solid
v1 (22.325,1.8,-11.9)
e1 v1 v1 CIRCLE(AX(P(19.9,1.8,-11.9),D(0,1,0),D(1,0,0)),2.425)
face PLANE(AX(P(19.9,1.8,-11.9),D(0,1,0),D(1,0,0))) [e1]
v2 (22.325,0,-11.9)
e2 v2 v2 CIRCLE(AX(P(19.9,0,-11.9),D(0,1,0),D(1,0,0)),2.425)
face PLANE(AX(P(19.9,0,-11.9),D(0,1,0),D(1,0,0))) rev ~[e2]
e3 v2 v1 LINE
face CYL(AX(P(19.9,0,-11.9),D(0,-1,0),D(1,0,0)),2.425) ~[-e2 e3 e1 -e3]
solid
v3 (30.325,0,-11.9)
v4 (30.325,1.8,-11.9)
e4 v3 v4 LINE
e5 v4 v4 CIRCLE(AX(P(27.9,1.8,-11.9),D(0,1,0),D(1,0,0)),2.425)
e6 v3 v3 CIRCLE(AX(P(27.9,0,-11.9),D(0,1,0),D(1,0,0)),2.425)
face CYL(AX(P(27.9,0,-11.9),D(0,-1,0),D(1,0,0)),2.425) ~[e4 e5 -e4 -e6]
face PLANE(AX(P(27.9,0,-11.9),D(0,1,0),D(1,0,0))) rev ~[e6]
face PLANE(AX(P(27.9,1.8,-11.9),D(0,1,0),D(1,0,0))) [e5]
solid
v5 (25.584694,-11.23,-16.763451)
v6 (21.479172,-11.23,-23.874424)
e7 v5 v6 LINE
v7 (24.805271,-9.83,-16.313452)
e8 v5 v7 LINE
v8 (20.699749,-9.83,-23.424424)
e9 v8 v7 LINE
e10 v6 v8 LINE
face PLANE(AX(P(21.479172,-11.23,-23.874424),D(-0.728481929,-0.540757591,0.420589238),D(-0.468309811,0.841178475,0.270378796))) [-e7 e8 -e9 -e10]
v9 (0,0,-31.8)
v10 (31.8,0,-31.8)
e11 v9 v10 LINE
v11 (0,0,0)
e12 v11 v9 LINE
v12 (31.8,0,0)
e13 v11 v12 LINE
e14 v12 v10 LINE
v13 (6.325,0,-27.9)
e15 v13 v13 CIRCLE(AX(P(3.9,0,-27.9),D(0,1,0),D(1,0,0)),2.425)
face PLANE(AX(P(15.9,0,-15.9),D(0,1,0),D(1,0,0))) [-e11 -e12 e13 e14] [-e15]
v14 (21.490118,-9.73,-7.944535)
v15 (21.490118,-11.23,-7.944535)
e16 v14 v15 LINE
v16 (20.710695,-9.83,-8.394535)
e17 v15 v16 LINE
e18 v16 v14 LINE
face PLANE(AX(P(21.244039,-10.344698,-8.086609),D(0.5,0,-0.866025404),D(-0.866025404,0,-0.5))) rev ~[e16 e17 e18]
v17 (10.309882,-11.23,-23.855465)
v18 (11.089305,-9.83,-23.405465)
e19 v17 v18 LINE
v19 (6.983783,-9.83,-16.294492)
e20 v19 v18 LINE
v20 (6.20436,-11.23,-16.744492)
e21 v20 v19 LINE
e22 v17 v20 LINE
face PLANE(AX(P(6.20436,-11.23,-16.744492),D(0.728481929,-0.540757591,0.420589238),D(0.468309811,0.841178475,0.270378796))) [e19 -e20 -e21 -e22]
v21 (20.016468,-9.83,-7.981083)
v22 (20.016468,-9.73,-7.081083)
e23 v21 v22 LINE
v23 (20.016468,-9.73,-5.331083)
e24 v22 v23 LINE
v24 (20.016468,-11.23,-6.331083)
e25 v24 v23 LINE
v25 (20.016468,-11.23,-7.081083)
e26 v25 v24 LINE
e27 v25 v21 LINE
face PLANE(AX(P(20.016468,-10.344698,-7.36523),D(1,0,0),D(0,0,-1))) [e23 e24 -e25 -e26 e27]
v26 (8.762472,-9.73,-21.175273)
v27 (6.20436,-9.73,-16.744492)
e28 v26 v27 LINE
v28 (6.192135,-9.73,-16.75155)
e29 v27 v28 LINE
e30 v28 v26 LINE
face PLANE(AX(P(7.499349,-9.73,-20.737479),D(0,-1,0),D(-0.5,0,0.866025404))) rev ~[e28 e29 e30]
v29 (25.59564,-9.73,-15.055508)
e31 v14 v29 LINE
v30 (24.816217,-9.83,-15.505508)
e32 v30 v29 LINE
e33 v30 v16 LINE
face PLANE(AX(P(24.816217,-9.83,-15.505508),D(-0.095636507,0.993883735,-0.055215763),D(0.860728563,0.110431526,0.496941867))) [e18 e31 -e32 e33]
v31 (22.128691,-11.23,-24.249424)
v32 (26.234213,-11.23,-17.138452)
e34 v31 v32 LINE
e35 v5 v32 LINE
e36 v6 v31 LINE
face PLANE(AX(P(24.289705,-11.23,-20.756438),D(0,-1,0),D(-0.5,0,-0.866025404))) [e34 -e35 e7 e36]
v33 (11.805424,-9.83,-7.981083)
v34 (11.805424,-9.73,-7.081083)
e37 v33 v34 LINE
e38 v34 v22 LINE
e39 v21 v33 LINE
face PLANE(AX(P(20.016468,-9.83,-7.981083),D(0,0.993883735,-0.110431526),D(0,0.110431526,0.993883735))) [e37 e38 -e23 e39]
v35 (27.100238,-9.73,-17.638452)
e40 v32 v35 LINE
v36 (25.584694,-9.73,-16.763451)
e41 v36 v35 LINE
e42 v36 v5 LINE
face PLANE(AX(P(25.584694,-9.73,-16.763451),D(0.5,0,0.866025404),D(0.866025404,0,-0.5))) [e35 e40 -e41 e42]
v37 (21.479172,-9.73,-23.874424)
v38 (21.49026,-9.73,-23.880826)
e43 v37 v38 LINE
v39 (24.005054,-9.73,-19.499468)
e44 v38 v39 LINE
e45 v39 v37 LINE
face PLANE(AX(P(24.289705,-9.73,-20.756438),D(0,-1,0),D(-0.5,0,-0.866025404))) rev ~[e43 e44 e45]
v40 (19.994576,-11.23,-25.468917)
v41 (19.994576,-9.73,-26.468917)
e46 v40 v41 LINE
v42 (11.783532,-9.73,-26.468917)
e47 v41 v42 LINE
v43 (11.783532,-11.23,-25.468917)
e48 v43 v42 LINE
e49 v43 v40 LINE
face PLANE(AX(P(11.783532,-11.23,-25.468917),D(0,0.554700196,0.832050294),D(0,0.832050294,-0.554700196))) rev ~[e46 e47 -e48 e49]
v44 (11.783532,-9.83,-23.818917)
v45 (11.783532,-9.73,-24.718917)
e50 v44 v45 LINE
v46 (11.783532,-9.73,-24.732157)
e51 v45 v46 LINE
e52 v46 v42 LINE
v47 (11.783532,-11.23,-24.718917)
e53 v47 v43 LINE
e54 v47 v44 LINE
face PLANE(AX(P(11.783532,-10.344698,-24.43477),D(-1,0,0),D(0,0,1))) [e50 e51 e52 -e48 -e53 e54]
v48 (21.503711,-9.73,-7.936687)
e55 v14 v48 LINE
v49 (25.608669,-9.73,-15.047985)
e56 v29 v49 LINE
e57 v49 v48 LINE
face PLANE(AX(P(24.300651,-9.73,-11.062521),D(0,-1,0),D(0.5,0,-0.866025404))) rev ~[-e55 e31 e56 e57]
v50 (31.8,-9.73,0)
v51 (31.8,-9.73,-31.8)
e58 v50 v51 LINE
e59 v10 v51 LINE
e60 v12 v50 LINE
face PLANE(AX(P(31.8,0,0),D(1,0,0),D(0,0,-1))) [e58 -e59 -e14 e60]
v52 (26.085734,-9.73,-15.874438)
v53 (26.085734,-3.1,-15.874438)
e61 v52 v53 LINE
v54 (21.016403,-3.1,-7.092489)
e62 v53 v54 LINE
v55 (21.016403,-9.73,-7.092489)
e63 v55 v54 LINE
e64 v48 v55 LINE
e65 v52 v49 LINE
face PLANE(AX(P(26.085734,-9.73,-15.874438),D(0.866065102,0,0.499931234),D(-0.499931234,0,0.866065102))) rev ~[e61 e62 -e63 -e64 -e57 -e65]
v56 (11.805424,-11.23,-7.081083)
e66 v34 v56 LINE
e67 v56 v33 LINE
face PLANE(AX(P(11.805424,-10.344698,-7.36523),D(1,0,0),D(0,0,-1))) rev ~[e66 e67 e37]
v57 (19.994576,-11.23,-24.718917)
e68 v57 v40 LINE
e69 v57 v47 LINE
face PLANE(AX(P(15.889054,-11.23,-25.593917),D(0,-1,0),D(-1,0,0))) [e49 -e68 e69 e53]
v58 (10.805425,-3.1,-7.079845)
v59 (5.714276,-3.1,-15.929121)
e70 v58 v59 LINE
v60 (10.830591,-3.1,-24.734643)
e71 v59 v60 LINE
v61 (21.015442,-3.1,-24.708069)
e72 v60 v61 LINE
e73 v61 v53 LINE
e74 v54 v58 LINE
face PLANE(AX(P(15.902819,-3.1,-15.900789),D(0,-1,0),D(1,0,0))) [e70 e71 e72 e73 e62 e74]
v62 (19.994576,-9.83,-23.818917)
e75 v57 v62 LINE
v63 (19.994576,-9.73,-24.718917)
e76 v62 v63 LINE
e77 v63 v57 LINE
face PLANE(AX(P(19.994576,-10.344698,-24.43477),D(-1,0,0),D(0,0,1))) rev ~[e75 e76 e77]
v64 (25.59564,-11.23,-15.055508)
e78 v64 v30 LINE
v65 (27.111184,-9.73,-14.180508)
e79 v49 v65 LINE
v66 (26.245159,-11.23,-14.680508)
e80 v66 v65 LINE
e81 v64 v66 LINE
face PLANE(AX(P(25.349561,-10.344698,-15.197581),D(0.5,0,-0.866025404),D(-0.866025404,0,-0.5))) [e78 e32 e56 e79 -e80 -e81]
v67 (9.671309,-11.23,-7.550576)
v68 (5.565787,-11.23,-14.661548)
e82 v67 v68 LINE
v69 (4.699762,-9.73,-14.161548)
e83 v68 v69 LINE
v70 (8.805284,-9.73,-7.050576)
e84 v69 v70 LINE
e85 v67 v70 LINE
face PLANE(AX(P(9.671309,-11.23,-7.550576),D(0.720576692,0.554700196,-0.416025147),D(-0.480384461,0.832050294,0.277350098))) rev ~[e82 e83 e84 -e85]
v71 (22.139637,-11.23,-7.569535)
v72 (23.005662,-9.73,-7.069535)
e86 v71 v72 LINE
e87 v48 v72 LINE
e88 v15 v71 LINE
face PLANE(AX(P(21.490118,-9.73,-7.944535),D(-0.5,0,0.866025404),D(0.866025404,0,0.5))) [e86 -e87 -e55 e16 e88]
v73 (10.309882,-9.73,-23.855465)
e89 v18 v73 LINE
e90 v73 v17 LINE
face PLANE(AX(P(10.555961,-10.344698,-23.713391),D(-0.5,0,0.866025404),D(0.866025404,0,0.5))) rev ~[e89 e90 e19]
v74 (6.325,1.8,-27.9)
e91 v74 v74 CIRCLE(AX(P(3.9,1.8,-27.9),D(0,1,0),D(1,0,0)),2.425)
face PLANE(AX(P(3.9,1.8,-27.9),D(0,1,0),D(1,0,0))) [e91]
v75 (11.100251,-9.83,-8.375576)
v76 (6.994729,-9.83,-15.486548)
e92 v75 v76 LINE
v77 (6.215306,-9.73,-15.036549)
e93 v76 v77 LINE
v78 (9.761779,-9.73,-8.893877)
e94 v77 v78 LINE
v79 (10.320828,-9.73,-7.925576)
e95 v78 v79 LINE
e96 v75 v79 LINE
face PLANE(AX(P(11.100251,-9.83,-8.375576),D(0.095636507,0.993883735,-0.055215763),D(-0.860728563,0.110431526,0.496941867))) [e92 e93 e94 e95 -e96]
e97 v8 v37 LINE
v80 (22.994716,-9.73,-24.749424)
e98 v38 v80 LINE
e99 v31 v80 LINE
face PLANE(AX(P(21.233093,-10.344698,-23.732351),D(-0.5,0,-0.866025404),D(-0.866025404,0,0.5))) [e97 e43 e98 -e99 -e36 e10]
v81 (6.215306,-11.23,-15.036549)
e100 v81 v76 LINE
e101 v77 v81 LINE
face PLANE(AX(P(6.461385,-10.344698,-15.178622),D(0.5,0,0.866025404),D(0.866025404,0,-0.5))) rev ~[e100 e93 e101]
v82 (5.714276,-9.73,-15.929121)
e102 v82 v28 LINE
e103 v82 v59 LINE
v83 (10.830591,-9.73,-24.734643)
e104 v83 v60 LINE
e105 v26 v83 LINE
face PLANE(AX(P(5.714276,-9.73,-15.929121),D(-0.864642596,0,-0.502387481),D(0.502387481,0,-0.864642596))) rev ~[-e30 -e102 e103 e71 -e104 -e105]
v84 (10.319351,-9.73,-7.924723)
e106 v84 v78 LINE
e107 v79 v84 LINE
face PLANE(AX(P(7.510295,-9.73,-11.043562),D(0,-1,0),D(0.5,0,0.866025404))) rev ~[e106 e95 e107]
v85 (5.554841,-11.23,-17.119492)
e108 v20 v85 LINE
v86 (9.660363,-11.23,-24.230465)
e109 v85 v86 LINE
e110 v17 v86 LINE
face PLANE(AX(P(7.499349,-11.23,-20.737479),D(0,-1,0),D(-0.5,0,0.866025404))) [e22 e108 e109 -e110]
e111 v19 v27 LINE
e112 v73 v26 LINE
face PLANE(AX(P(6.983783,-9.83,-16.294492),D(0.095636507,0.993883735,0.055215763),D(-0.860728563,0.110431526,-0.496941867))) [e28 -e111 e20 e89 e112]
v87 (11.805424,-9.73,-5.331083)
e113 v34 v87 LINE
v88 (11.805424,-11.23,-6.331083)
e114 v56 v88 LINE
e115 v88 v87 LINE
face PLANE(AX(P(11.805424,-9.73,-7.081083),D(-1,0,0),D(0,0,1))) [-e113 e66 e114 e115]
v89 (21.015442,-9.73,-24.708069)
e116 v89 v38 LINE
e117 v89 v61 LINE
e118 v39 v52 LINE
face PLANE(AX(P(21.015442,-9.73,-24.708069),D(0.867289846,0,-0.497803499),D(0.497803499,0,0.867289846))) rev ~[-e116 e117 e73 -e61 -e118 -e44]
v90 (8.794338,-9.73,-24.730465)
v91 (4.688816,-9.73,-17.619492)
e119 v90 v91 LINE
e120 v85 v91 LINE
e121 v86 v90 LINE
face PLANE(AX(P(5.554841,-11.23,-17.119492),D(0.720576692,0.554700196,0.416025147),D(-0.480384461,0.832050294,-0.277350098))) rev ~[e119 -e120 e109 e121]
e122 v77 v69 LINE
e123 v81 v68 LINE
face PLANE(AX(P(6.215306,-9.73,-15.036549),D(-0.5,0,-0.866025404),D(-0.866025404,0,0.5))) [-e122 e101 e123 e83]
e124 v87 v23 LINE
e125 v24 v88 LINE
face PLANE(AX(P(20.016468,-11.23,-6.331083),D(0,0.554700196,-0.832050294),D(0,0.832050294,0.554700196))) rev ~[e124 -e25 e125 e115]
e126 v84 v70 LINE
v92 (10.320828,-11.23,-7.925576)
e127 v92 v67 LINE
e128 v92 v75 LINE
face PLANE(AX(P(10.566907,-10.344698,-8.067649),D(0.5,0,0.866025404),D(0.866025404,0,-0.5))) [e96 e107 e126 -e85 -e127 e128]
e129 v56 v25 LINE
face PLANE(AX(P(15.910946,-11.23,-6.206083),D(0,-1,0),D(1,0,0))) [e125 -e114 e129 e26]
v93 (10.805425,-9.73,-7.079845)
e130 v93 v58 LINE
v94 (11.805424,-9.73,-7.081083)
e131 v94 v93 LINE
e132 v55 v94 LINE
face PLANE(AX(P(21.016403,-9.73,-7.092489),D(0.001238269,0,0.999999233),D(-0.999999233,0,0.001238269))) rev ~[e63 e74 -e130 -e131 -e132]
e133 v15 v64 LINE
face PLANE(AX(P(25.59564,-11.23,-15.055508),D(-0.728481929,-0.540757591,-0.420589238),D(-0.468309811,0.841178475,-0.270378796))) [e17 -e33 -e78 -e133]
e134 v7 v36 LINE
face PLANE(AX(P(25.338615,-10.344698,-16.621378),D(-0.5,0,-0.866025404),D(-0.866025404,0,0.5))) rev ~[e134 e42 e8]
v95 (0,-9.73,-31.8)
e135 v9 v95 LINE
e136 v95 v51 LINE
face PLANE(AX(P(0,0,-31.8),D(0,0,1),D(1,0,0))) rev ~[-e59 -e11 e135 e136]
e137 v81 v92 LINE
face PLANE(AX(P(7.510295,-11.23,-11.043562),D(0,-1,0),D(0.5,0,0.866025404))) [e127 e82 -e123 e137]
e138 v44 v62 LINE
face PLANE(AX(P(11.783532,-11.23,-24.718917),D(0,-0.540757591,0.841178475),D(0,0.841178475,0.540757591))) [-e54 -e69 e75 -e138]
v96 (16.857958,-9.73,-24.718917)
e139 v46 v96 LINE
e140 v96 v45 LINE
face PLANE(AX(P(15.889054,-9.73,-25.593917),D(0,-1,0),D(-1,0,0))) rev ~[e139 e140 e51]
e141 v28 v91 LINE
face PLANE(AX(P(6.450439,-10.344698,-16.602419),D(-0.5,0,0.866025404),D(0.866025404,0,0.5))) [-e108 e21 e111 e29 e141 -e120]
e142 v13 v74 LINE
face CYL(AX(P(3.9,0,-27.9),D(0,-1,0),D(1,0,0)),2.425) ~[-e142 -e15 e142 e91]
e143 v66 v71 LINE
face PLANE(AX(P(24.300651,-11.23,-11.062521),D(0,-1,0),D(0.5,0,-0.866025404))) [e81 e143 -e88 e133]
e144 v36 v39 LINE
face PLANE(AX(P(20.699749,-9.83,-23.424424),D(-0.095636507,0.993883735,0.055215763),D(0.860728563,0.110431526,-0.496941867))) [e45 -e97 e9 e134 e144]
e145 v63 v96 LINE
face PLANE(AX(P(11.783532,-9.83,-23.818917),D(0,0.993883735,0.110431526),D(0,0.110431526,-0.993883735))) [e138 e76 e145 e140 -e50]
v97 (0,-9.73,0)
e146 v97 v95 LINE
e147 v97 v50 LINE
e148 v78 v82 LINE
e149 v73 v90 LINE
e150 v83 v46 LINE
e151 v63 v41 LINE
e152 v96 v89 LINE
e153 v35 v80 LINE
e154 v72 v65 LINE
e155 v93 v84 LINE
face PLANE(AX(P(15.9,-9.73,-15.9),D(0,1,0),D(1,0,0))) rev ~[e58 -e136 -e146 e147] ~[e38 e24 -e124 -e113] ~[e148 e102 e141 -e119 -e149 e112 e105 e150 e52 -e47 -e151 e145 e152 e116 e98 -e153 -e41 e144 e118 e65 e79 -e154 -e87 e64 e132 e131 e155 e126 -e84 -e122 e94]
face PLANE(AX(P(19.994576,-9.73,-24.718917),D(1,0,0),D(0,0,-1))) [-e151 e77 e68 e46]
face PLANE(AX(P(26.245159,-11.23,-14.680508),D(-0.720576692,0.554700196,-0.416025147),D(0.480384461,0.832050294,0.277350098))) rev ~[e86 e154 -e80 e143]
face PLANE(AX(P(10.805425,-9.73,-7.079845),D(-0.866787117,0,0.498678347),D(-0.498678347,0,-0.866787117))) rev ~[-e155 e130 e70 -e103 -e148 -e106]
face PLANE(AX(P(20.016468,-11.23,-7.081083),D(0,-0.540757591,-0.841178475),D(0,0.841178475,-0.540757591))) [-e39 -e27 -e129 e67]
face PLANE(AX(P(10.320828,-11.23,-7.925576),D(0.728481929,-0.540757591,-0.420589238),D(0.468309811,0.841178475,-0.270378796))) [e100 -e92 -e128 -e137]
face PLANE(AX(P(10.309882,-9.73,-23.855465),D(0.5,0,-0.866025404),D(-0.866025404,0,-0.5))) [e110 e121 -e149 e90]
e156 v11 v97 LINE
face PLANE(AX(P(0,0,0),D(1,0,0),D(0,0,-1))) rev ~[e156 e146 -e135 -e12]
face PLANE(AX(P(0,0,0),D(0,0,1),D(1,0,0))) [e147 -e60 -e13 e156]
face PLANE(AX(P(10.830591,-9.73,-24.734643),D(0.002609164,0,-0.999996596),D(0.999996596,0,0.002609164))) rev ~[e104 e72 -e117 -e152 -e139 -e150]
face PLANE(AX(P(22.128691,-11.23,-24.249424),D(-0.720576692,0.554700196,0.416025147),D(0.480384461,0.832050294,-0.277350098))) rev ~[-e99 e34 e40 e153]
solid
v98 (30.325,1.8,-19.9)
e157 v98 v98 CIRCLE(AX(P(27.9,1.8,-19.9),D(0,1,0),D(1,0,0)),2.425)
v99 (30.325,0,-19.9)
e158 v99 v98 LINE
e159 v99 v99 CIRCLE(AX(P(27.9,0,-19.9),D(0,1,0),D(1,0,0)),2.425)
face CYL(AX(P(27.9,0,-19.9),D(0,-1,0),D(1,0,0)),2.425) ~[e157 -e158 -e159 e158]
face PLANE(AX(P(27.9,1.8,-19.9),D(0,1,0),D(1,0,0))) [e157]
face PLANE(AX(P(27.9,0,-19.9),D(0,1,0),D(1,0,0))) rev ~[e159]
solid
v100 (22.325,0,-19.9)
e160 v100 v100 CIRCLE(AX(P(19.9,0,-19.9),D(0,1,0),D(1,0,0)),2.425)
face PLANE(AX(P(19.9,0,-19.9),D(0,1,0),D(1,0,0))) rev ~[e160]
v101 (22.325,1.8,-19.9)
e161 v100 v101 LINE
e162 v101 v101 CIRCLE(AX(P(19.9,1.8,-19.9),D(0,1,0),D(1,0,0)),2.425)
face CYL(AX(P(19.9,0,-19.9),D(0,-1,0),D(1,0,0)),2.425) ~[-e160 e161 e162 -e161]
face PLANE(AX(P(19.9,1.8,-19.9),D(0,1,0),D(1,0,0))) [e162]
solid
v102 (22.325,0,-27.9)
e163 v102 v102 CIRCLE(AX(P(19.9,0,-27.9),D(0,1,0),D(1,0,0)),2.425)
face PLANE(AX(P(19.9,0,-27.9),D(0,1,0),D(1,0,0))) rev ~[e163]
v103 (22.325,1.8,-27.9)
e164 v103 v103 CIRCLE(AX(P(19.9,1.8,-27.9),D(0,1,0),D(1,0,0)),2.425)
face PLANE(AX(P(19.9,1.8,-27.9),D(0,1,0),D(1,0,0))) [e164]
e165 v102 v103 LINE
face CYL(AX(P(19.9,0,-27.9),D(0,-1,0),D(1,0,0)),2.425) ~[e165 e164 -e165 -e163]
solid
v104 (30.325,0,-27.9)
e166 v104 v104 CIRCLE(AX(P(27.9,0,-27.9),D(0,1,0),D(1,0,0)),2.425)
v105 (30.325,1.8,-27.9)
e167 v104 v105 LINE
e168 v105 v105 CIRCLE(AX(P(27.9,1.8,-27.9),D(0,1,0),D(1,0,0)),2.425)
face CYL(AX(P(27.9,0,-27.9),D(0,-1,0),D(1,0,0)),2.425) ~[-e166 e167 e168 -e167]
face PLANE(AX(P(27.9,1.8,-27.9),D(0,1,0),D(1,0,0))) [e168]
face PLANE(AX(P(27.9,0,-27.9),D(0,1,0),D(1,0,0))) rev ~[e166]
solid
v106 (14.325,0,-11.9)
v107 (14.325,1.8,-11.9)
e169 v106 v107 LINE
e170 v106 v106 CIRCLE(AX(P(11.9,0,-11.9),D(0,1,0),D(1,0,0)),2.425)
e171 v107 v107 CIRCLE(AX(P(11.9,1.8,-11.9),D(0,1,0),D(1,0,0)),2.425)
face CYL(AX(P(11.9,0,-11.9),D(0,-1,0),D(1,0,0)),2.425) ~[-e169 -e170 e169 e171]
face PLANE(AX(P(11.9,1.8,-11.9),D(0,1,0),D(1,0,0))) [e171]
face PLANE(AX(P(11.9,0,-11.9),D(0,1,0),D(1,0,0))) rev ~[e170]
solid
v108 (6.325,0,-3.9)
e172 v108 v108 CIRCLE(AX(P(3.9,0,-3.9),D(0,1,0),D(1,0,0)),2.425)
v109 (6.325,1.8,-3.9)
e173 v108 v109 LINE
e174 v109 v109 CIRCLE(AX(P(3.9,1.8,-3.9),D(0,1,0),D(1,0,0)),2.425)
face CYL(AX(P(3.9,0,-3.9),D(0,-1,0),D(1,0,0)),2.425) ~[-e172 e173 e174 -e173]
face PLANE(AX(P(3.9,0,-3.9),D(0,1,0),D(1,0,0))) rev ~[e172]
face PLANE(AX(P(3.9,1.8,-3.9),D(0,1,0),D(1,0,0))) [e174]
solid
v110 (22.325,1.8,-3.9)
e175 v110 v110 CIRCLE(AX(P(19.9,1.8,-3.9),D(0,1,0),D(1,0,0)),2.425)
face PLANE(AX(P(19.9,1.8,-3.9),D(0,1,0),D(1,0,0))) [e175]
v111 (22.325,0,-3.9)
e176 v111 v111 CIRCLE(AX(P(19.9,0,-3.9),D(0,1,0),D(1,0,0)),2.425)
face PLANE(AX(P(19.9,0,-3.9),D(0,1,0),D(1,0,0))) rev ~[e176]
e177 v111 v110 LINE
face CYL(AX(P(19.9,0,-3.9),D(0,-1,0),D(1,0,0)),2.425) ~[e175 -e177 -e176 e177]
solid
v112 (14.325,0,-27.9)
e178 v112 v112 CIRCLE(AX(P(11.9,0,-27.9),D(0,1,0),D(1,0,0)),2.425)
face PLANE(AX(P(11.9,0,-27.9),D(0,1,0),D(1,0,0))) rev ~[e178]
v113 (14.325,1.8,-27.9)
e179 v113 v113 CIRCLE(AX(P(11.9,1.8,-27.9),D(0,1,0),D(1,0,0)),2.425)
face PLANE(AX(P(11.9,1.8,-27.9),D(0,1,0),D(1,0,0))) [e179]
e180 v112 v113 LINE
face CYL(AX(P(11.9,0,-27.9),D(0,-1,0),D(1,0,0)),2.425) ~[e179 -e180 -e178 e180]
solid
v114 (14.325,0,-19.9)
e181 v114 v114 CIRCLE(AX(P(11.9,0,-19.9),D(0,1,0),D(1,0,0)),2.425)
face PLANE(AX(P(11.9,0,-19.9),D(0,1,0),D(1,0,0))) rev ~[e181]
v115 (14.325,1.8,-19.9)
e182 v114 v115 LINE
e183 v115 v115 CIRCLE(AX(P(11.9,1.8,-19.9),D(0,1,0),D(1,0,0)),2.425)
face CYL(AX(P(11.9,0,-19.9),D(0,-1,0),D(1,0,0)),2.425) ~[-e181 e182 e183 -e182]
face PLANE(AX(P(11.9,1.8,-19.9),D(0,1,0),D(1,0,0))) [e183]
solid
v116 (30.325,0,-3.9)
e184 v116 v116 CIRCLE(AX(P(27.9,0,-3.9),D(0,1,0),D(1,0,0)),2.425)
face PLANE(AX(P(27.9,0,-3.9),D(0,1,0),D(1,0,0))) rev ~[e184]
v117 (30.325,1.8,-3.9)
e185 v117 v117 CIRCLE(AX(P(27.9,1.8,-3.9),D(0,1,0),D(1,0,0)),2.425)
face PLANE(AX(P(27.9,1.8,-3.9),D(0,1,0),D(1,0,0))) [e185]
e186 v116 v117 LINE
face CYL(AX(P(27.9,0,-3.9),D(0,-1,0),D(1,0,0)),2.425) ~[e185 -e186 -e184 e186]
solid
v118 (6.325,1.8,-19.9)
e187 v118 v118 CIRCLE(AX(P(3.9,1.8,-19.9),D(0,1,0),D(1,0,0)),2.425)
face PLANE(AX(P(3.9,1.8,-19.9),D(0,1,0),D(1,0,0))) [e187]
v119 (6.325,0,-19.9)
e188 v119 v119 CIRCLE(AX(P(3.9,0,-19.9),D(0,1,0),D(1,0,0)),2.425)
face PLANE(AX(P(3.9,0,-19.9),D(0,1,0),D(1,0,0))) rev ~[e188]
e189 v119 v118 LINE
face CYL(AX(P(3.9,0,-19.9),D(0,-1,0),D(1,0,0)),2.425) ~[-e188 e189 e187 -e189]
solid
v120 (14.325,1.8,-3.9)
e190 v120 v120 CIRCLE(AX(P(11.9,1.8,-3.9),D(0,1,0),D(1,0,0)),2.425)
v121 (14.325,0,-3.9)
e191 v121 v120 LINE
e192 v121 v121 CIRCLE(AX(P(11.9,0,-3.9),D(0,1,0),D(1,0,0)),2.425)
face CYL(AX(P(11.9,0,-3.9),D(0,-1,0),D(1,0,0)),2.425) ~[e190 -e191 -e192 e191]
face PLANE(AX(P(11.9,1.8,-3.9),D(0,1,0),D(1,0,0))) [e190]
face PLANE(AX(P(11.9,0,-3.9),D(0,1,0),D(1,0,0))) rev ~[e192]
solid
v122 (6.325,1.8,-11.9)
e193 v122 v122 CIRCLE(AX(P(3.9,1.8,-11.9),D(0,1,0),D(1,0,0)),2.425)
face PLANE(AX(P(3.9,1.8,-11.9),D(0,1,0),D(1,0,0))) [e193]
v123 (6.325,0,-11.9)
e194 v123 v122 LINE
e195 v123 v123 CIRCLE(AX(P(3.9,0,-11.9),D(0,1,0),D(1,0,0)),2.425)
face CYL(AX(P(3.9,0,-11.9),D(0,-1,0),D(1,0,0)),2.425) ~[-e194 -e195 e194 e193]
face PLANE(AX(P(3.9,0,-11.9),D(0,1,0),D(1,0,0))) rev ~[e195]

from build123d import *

# Parameters (mm, degrees)
SKETCH2_R              = 2.425
BOSS_EXTRUDE1_DEPTH    = 1.8
BOSS_EXTRUDE1_2_DEPTH  = 1.8
BOSS_EXTRUDE1_3_DEPTH  = 1.8
BOSS_EXTRUDE1_4_DEPTH  = 1.8
BOSS_EXTRUDE1_5_DEPTH  = 1.8
BOSS_EXTRUDE1_6_DEPTH  = 1.8
BOSS_EXTRUDE1_7_DEPTH  = 1.8
BOSS_EXTRUDE1_8_DEPTH  = 1.8
BOSS_EXTRUDE1_9_DEPTH  = 1.8
BOSS_EXTRUDE1_10_DEPTH = 1.8
BOSS_EXTRUDE1_11_DEPTH = 1.8
BOSS_EXTRUDE1_12_DEPTH = 1.8
BOSS_EXTRUDE1_13_DEPTH = 1.8
BOSS_EXTRUDE1_14_DEPTH = 1.8
BOSS_EXTRUDE1_15_DEPTH = 1.8
BOSS_EXTRUDE1_16_DEPTH = 1.8
SKETCH1_W              = 31.8
SKETCH1_H              = 31.8
BOSS_EXTRUDE2_DEPTH    = 9.73
CUT_EXTRUDE1_DEPTH     = 6.63
SKETCH9_W              = 8.211044263
SKETCH9_H              = 1.75
BOSS_EXTRUDE4_DEPTH    = 1.5
BOSS_EXTRUDE5_DEPTH    = 8.211044
CUT_EXTRUDE4_DEPTH     = 8.211044
CIRPATTERN3_COUNT      = 6


with BuildPart() as part:
    # Sketch2 → Boss-Extrude1 (new body)
    with BuildSketch(Plane(origin=(0, 0, 0), x_dir=(1, 0, 0), z_dir=(0, 1, 0))):
        with Locations((3.9, 27.9)):
            Circle(SKETCH2_R)
    extrude(amount=BOSS_EXTRUDE1_DEPTH)

    # Sketch1 → Boss-Extrude2 (add)
    with BuildSketch(Plane(origin=(0, 0, 0), x_dir=(1, 0, 0), z_dir=(0, 1, 0))):
        with Locations((15.9, 15.9)):
            Rectangle(SKETCH1_W, SKETCH1_H)
    extrude(amount=-BOSS_EXTRUDE2_DEPTH)

    # Sketch4 → Cut-Extrude1 (cut)
    with BuildSketch(Plane.XZ.offset(9.73)):
        Polygon((26.085733965, -15.874437919), (21.016403127, -7.092489065), (10.805424678, -7.07984512), (5.714275589, -15.929121347), (10.830590574, -24.734643054), (21.015442313, -24.708069014), align=None)
    extrude(amount=-CUT_EXTRUDE1_DEPTH, mode=Mode.SUBTRACT)

    # Sketch9 → Boss-Extrude4 (add)
    with BuildSketch(Plane.XZ.offset(9.73)):
        with Locations((15.910946043, -6.206083389)):
            Rectangle(SKETCH9_W, SKETCH9_H)
    boss_extrude4 = extrude(amount=BOSS_EXTRUDE4_DEPTH)

    # Sketch10 → Boss-Extrude5 (add)
    with BuildSketch(Plane(origin=(20.016468174, 0, 0), x_dir=(0, 0, -1), z_dir=(1, 0, 0))):
        Polygon((7.081083389, -11.23), (7.981083389, -9.83), (7.081083389, -9.73), align=None)
    boss_extrude5 = extrude(amount=-BOSS_EXTRUDE5_DEPTH)

    # Sketch11 → Cut-Extrude4 (cut)
    with BuildSketch(Plane(origin=(20.016468174, 0, 0), x_dir=(0, 0, -1), z_dir=(1, 0, 0))):
        Polygon((6.331083389, -11.23), (5.331083389, -9.73), (5.331083389, -11.23), align=None)
    cut_extrude4 = extrude(amount=-CUT_EXTRUDE4_DEPTH, mode=Mode.SUBTRACT)

    # CirPattern3: Boss-Extrude4, Boss-Extrude5, Cut-Extrude4 ×6 about axis
    cirpattern3_axis = Axis((15.9, 0, -15.9), (0, 1, 0))
    for i in range(1, CIRPATTERN3_COUNT):
        add(boss_extrude4.rotate(cirpattern3_axis, i * 360 / CIRPATTERN3_COUNT))
        add(boss_extrude5.rotate(cirpattern3_axis, i * 360 / CIRPATTERN3_COUNT))
        add(cut_extrude4.rotate(cirpattern3_axis, i * 360 / CIRPATTERN3_COUNT), mode=Mode.SUBTRACT)


with BuildPart() as body_2:
    # Sketch2 → Boss-Extrude1 2 (new body)
    with BuildSketch(Plane(origin=(0, 0, 0), x_dir=(1, 0, 0), z_dir=(0, 1, 0))):
        with Locations((11.9, 27.9)):
            Circle(SKETCH2_R)
    extrude(amount=BOSS_EXTRUDE1_2_DEPTH)


with BuildPart() as body_3:
    # Sketch2 → Boss-Extrude1 3 (new body)
    with BuildSketch(Plane(origin=(0, 0, 0), x_dir=(1, 0, 0), z_dir=(0, 1, 0))):
        with Locations((19.9, 27.9)):
            Circle(SKETCH2_R)
    extrude(amount=BOSS_EXTRUDE1_3_DEPTH)


with BuildPart() as body_4:
    # Sketch2 → Boss-Extrude1 4 (new body)
    with BuildSketch(Plane(origin=(0, 0, 0), x_dir=(1, 0, 0), z_dir=(0, 1, 0))):
        with Locations((27.9, 27.9)):
            Circle(SKETCH2_R)
    extrude(amount=BOSS_EXTRUDE1_4_DEPTH)


with BuildPart() as body_5:
    # Sketch2 → Boss-Extrude1 5 (new body)
    with BuildSketch(Plane(origin=(0, 0, 0), x_dir=(1, 0, 0), z_dir=(0, 1, 0))):
        with Locations((11.9, 19.9)):
            Circle(SKETCH2_R)
    extrude(amount=BOSS_EXTRUDE1_5_DEPTH)


with BuildPart() as body_6:
    # Sketch2 → Boss-Extrude1 6 (new body)
    with BuildSketch(Plane(origin=(0, 0, 0), x_dir=(1, 0, 0), z_dir=(0, 1, 0))):
        with Locations((19.9, 19.9)):
            Circle(SKETCH2_R)
    extrude(amount=BOSS_EXTRUDE1_6_DEPTH)


with BuildPart() as body_7:
    # Sketch2 → Boss-Extrude1 7 (new body)
    with BuildSketch(Plane(origin=(0, 0, 0), x_dir=(1, 0, 0), z_dir=(0, 1, 0))):
        with Locations((27.9, 19.9)):
            Circle(SKETCH2_R)
    extrude(amount=BOSS_EXTRUDE1_7_DEPTH)


with BuildPart() as body_8:
    # Sketch2 → Boss-Extrude1 8 (new body)
    with BuildSketch(Plane(origin=(0, 0, 0), x_dir=(1, 0, 0), z_dir=(0, 1, 0))):
        with Locations((11.9, 11.9)):
            Circle(SKETCH2_R)
    extrude(amount=BOSS_EXTRUDE1_8_DEPTH)


with BuildPart() as body_9:
    # Sketch2 → Boss-Extrude1 9 (new body)
    with BuildSketch(Plane(origin=(0, 0, 0), x_dir=(1, 0, 0), z_dir=(0, 1, 0))):
        with Locations((19.9, 11.9)):
            Circle(SKETCH2_R)
    extrude(amount=BOSS_EXTRUDE1_9_DEPTH)


with BuildPart() as body_10:
    # Sketch2 → Boss-Extrude1 10 (new body)
    with BuildSketch(Plane(origin=(0, 0, 0), x_dir=(1, 0, 0), z_dir=(0, 1, 0))):
        with Locations((27.9, 11.9)):
            Circle(SKETCH2_R)
    extrude(amount=BOSS_EXTRUDE1_10_DEPTH)


with BuildPart() as body_11:
    # Sketch2 → Boss-Extrude1 11 (new body)
    with BuildSketch(Plane(origin=(0, 0, 0), x_dir=(1, 0, 0), z_dir=(0, 1, 0))):
        with Locations((11.9, 3.9)):
            Circle(SKETCH2_R)
    extrude(amount=BOSS_EXTRUDE1_11_DEPTH)


with BuildPart() as body_12:
    # Sketch2 → Boss-Extrude1 12 (new body)
    with BuildSketch(Plane(origin=(0, 0, 0), x_dir=(1, 0, 0), z_dir=(0, 1, 0))):
        with Locations((19.9, 3.9)):
            Circle(SKETCH2_R)
    extrude(amount=BOSS_EXTRUDE1_12_DEPTH)


with BuildPart() as body_13:
    # Sketch2 → Boss-Extrude1 13 (new body)
    with BuildSketch(Plane(origin=(0, 0, 0), x_dir=(1, 0, 0), z_dir=(0, 1, 0))):
        with Locations((27.9, 3.9)):
            Circle(SKETCH2_R)
    extrude(amount=BOSS_EXTRUDE1_13_DEPTH)


with BuildPart() as body_14:
    # Sketch2 → Boss-Extrude1 14 (new body)
    with BuildSketch(Plane(origin=(0, 0, 0), x_dir=(1, 0, 0), z_dir=(0, 1, 0))):
        with Locations((3.9, 19.9)):
            Circle(SKETCH2_R)
    extrude(amount=BOSS_EXTRUDE1_14_DEPTH)


with BuildPart() as body_15:
    # Sketch2 → Boss-Extrude1 15 (new body)
    with BuildSketch(Plane(origin=(0, 0, 0), x_dir=(1, 0, 0), z_dir=(0, 1, 0))):
        with Locations((3.9, 11.9)):
            Circle(SKETCH2_R)
    extrude(amount=BOSS_EXTRUDE1_15_DEPTH)


with BuildPart() as body_16:
    # Sketch2 → Boss-Extrude1 16 (new body)
    with BuildSketch(Plane(origin=(0, 0, 0), x_dir=(1, 0, 0), z_dir=(0, 1, 0))):
        with Locations((3.9, 3.9)):
            Circle(SKETCH2_R)
    extrude(amount=BOSS_EXTRUDE1_16_DEPTH)


solid = Compound([part.part, body_2.part, body_3.part, body_4.part, body_5.part, body_6.part, body_7.part, body_8.part, body_9.part, body_10.part, body_11.part, body_12.part, body_13.part, body_14.part, body_15.part, body_16.part])
